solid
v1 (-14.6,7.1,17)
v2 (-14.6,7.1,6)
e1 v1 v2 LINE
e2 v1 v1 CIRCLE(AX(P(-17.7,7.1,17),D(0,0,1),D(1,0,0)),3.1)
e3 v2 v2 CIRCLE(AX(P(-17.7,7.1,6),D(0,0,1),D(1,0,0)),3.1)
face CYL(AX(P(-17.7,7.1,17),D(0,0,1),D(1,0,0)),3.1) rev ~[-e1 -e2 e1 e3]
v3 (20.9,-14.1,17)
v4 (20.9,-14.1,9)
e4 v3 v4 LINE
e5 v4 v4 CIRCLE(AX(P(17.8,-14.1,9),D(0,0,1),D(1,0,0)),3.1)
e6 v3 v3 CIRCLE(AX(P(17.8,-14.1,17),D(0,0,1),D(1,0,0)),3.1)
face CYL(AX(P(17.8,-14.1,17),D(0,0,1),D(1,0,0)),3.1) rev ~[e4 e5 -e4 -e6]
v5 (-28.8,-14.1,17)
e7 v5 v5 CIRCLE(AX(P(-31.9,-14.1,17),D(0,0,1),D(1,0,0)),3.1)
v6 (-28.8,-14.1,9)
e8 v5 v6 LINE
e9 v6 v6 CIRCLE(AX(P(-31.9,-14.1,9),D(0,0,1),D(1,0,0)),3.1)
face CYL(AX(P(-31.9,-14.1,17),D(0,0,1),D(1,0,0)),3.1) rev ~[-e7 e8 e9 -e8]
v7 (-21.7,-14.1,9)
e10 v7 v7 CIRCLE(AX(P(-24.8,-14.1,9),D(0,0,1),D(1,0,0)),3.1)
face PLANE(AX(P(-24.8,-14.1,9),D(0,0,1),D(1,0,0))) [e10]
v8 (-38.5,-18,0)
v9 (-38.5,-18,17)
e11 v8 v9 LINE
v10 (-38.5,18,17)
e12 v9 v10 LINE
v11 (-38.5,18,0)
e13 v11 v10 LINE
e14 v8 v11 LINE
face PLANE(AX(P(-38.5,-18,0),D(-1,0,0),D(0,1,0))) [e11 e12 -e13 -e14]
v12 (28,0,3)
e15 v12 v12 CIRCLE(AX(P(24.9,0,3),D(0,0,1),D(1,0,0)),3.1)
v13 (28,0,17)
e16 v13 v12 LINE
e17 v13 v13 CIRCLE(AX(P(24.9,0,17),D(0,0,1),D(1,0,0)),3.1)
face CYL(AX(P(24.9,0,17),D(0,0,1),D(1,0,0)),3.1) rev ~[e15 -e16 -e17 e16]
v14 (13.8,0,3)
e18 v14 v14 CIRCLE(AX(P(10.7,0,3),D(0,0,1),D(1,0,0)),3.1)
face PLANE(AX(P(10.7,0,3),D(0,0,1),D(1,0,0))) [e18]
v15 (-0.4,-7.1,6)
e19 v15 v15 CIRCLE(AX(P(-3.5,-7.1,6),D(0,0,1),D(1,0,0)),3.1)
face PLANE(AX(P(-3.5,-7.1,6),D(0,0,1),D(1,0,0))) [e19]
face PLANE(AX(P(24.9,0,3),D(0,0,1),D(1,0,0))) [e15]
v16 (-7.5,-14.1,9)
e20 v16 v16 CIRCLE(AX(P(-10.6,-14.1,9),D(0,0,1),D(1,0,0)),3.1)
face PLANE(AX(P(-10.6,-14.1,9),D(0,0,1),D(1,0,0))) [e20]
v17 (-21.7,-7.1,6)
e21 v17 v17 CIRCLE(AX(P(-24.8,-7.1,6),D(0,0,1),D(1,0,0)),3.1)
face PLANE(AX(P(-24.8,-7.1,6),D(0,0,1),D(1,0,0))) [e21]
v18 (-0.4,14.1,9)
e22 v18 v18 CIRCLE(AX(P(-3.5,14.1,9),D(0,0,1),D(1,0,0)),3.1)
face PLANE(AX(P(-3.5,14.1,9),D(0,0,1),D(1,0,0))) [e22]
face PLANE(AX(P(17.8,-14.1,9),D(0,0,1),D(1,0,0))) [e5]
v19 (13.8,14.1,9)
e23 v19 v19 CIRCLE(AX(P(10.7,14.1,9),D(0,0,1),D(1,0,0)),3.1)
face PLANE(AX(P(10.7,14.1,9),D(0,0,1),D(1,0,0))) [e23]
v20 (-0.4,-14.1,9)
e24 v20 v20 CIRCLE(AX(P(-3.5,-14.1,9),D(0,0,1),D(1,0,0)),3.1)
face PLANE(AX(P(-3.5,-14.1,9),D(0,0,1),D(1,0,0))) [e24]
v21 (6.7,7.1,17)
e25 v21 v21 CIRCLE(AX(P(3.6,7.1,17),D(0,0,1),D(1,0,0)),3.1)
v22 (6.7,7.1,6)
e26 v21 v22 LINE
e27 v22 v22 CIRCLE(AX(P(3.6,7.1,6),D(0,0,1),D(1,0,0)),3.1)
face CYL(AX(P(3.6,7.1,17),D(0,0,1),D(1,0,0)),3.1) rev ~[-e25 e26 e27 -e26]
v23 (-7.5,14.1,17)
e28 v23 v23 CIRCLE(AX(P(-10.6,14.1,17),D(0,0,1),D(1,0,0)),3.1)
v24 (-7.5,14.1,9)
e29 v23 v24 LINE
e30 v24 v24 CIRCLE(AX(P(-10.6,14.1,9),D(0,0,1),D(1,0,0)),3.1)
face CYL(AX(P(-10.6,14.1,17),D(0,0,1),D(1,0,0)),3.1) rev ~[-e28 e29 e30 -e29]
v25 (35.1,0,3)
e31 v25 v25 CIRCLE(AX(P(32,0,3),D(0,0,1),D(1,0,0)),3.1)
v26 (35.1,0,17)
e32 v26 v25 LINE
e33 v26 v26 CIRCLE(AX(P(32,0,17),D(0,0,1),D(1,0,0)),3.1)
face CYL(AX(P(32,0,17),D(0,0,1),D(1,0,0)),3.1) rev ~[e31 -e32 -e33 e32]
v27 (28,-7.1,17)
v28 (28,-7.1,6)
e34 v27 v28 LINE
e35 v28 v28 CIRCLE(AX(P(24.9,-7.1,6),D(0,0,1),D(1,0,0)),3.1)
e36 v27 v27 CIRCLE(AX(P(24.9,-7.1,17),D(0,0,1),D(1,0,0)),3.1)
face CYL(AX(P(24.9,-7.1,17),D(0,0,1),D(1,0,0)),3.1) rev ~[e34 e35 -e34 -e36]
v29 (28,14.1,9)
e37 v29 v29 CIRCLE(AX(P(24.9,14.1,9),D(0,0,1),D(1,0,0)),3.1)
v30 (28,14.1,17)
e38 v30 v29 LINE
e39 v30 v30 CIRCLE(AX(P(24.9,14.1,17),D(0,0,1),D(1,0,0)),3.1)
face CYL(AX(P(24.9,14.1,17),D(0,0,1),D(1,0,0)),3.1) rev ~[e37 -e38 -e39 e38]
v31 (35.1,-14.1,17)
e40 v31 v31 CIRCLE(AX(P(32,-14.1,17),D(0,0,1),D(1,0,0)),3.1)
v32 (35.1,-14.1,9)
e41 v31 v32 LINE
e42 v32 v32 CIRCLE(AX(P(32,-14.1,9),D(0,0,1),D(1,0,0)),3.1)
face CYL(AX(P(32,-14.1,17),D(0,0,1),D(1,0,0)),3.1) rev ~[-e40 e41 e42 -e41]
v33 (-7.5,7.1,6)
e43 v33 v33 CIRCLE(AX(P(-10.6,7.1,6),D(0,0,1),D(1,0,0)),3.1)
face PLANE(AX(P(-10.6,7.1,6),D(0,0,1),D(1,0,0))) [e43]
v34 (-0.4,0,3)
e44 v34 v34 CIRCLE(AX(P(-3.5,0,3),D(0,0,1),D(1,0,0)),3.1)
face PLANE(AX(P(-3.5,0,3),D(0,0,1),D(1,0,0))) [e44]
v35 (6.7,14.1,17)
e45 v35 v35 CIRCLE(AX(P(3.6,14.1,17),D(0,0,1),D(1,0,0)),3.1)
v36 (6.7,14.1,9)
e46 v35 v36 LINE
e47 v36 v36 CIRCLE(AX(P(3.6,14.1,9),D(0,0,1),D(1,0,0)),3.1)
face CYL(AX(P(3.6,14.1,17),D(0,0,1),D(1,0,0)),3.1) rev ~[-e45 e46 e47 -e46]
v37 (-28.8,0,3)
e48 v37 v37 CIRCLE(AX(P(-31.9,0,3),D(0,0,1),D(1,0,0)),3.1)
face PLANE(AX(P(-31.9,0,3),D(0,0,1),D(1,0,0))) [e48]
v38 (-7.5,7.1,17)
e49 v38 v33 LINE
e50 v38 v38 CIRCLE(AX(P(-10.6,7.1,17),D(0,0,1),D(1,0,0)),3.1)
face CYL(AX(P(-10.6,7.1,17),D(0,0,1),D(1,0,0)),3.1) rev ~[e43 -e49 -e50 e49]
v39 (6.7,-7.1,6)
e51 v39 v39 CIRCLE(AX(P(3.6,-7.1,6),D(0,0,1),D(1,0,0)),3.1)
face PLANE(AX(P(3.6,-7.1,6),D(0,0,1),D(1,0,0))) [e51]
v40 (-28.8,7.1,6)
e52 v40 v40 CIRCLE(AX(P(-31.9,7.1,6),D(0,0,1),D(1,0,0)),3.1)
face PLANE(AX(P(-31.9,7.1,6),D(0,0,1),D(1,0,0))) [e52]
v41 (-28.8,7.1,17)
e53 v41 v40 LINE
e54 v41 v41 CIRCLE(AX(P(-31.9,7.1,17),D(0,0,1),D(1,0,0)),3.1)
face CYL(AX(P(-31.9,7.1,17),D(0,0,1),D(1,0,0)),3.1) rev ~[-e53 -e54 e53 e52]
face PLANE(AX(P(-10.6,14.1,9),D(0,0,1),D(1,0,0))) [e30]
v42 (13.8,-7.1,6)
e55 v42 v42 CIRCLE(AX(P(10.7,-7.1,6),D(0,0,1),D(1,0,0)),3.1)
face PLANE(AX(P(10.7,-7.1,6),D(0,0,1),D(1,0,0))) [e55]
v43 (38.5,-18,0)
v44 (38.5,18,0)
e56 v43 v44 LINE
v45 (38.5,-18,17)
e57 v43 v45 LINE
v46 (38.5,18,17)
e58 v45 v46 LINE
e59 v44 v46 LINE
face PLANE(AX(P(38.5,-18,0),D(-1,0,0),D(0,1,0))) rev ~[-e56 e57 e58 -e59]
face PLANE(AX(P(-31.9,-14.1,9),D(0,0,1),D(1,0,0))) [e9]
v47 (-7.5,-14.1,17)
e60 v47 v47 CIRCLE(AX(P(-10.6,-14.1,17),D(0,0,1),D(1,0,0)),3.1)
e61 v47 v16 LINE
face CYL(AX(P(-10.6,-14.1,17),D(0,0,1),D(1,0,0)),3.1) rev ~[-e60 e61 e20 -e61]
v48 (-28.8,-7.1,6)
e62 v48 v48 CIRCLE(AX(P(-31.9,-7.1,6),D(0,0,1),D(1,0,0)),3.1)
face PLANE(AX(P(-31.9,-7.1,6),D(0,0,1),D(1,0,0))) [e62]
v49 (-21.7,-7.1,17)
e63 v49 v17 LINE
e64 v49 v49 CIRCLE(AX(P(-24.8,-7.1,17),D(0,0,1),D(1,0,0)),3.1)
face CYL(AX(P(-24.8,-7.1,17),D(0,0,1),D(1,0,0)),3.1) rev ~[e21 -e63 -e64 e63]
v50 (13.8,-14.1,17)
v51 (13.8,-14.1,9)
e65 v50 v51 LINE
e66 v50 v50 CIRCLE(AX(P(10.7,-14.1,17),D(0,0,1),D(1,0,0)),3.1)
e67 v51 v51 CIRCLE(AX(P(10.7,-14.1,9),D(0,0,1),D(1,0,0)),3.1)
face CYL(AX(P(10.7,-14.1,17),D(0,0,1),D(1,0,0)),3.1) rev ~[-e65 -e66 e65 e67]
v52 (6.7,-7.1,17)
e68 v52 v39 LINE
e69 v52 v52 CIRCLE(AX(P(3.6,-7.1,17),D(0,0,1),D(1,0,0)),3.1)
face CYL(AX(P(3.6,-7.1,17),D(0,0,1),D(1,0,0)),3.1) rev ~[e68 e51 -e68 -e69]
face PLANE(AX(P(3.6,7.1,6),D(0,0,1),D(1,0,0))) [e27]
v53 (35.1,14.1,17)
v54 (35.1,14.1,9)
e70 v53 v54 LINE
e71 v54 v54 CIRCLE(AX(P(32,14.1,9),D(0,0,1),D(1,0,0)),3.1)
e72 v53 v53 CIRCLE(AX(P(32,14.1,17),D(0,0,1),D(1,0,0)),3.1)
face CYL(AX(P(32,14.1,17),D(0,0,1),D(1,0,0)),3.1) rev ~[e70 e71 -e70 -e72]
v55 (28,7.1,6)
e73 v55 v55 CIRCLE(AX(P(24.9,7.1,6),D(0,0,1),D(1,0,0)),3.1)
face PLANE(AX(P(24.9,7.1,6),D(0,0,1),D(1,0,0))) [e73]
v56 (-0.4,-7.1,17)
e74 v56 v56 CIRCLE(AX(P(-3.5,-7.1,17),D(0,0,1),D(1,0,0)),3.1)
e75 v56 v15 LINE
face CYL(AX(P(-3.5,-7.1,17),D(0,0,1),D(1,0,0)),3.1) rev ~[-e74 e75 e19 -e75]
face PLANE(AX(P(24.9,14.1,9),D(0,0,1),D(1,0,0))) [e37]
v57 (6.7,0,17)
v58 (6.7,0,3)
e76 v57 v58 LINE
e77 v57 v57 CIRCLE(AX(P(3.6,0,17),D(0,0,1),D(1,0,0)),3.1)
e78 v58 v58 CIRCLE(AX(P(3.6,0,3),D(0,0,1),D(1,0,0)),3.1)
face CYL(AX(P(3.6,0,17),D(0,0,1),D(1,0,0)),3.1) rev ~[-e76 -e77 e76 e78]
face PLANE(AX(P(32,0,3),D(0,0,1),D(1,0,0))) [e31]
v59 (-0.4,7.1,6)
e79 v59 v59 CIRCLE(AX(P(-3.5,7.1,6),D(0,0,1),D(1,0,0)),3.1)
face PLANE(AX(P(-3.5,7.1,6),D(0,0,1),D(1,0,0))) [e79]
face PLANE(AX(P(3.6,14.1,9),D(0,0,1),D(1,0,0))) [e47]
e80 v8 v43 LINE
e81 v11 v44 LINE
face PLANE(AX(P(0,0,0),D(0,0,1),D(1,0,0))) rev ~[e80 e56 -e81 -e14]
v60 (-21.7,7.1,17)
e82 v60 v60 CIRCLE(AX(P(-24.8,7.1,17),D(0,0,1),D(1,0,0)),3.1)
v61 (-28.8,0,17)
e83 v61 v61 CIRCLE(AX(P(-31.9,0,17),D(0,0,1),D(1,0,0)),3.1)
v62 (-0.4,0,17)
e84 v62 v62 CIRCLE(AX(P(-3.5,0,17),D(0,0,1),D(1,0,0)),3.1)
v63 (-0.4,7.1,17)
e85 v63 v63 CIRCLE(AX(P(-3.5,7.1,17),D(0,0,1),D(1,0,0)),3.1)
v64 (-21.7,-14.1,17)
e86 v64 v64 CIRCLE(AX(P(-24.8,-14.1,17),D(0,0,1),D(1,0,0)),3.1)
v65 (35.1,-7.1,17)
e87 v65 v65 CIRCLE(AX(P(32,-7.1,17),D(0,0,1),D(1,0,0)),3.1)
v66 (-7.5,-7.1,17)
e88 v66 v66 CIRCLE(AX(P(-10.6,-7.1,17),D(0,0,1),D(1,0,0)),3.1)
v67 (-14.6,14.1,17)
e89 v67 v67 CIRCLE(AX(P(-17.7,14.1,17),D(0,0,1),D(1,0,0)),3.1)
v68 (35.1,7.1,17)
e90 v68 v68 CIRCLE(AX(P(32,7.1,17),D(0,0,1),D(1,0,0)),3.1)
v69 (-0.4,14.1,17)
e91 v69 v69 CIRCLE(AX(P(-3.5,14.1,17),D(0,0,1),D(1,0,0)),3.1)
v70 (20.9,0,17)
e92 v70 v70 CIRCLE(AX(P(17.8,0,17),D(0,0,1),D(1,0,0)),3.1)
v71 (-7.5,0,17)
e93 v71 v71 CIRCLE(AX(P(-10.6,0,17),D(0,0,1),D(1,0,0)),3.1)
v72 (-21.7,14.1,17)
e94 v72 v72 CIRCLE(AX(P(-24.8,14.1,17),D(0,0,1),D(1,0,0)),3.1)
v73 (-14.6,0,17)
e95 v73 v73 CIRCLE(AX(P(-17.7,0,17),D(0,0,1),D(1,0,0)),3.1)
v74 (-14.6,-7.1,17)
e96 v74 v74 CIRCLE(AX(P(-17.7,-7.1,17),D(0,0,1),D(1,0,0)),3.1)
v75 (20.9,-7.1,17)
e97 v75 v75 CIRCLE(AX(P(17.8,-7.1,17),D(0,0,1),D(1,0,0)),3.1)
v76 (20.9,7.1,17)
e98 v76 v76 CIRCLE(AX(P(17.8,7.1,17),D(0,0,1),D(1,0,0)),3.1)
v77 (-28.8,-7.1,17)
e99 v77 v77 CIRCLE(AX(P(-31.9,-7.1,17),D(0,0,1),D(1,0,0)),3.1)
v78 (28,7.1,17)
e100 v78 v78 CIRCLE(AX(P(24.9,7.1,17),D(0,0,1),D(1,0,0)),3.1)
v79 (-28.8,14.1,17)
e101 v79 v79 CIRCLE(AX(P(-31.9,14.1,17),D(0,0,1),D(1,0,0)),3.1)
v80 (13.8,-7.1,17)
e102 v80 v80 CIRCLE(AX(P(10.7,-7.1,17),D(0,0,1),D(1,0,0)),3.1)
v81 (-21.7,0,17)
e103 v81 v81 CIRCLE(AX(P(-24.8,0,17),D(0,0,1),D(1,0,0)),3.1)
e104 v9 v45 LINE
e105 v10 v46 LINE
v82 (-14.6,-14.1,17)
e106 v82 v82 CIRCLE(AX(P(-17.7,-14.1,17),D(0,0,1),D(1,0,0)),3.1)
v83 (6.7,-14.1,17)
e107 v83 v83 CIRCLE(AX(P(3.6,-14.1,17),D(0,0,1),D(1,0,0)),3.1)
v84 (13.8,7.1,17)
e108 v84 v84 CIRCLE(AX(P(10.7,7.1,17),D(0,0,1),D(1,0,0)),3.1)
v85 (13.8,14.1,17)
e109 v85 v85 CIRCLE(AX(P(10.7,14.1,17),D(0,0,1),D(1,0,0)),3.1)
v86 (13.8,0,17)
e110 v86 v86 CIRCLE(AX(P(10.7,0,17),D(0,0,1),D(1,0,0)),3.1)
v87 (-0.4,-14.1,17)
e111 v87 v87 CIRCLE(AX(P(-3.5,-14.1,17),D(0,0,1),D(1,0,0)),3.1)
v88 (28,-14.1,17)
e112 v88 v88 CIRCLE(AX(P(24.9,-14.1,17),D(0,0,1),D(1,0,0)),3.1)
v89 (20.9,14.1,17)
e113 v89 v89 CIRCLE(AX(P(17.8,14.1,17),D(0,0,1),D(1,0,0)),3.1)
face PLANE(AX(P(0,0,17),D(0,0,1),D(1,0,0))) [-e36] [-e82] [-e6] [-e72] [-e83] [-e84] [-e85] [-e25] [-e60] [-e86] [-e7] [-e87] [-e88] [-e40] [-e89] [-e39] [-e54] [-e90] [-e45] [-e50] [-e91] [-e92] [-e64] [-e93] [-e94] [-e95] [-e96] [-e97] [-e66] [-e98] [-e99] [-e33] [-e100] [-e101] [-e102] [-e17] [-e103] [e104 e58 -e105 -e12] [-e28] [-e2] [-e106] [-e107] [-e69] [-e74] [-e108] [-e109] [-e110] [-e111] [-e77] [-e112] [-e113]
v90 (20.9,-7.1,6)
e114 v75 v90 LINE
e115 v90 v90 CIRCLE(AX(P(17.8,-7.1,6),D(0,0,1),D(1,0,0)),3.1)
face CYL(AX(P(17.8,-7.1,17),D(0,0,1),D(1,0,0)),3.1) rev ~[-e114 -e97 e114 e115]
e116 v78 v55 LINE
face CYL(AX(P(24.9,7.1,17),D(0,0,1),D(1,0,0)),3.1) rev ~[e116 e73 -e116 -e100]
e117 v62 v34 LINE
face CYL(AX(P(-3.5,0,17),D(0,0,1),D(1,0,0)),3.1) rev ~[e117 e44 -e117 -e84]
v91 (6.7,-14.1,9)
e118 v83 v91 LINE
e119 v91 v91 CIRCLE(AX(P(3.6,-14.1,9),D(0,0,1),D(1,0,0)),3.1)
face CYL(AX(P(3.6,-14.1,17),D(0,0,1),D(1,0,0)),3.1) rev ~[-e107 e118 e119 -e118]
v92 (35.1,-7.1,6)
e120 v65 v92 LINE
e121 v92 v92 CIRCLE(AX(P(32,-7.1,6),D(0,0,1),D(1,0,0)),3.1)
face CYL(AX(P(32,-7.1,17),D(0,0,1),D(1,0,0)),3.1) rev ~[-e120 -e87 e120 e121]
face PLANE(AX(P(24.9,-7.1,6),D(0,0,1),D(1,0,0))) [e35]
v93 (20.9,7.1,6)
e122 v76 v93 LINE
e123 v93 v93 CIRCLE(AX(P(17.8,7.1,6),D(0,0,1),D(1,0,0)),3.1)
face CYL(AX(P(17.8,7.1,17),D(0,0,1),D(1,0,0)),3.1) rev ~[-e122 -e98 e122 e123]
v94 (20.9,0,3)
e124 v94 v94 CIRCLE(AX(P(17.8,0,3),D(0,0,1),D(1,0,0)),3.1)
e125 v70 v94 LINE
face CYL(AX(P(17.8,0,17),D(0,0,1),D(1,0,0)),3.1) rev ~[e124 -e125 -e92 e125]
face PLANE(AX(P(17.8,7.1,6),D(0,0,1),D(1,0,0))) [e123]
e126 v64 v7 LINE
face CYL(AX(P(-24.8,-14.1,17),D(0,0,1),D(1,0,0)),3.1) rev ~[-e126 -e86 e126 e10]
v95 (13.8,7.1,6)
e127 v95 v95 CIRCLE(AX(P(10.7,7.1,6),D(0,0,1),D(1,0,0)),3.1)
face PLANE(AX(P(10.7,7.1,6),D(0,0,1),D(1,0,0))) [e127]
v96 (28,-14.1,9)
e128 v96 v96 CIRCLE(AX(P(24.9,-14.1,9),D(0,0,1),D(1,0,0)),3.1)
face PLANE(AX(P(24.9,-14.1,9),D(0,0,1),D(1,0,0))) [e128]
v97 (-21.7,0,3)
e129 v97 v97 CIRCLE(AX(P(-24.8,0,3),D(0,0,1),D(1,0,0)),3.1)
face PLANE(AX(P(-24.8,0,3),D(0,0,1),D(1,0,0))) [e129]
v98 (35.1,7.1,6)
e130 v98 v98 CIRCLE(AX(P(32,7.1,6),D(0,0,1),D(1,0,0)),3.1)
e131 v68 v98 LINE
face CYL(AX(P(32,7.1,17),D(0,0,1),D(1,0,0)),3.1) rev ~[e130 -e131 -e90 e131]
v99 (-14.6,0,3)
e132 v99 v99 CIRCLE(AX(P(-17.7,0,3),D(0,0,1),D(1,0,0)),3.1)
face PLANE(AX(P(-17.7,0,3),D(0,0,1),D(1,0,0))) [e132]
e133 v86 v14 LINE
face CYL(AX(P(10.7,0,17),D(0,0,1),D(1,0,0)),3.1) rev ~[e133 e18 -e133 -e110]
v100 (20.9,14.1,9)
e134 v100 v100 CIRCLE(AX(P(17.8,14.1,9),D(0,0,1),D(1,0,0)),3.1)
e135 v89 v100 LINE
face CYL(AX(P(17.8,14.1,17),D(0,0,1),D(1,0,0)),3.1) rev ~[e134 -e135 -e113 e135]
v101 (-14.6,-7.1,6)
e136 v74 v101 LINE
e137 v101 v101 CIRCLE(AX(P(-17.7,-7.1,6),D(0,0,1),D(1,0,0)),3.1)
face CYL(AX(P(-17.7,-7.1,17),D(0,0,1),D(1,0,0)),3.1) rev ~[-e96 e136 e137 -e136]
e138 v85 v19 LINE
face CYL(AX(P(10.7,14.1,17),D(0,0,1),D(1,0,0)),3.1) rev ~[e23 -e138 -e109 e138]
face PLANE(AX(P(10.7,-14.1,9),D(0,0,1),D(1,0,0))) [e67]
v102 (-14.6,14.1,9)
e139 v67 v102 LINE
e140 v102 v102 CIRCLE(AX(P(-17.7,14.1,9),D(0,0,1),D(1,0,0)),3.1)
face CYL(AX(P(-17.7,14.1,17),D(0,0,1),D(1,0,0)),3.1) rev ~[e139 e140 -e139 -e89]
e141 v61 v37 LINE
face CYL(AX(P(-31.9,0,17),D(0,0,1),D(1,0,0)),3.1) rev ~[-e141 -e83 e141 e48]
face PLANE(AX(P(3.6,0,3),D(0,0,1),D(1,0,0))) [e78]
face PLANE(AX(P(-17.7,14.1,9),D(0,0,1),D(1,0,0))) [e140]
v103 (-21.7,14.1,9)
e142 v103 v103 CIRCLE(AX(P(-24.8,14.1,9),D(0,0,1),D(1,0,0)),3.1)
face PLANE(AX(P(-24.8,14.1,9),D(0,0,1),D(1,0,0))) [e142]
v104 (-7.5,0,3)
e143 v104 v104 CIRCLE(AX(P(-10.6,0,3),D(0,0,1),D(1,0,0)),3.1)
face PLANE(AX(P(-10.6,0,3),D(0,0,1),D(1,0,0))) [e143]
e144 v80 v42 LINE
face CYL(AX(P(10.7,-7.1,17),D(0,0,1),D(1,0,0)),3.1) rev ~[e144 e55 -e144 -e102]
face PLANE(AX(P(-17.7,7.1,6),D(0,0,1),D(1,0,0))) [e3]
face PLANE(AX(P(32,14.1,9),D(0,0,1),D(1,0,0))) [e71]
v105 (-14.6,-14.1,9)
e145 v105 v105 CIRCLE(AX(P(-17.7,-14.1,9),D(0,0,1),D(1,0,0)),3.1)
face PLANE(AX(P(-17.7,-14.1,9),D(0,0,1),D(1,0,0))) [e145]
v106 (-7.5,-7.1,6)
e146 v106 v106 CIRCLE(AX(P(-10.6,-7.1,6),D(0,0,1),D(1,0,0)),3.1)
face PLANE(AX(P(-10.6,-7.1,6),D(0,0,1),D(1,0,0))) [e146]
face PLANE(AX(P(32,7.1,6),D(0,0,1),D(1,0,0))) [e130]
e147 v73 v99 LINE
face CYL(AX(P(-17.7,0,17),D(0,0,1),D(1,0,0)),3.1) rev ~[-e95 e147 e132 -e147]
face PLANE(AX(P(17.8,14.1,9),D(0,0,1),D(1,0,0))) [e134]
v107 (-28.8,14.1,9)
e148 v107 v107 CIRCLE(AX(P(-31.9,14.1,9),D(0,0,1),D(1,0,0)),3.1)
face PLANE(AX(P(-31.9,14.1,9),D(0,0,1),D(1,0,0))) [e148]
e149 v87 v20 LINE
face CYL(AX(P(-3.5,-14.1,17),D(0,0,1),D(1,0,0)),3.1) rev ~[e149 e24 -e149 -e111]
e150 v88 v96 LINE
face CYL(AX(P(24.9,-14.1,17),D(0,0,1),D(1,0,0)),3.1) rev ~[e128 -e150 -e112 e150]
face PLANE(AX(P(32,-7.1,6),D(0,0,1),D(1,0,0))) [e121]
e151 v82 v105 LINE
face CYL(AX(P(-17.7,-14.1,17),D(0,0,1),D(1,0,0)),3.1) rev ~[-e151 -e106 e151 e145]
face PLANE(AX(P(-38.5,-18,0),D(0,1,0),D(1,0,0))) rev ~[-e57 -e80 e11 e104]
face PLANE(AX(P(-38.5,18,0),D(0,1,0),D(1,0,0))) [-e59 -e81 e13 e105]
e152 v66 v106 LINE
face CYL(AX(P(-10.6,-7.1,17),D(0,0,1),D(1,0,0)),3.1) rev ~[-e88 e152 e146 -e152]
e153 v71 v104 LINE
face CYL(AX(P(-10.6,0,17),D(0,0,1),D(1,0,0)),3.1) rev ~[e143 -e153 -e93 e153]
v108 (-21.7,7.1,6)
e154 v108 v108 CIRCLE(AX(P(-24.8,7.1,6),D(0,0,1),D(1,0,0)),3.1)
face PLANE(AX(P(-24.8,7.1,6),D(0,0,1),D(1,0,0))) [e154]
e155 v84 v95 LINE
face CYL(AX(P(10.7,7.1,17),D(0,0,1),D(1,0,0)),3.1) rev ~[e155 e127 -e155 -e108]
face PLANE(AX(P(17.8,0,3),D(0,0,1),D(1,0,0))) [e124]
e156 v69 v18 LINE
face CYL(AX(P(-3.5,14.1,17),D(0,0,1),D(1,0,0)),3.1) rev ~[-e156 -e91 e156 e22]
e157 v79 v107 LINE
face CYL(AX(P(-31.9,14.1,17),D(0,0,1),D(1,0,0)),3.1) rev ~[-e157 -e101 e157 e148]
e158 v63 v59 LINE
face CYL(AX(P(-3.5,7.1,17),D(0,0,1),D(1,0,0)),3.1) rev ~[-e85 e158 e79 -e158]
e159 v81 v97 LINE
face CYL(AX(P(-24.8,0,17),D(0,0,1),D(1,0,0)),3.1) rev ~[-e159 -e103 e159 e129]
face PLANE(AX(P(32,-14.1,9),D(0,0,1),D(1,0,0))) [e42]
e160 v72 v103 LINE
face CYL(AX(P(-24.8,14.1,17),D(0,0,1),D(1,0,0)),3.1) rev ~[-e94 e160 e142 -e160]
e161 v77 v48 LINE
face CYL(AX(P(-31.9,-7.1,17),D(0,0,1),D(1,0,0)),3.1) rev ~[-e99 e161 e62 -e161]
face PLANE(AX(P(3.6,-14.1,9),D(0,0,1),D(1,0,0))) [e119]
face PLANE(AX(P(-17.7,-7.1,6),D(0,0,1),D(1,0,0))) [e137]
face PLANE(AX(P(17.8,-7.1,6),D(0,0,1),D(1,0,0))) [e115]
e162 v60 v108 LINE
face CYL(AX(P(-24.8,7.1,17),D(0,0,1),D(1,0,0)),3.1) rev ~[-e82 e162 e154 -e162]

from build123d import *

# Parameters (mm, degrees)
F0_W     = 77
F0_H     = 36
F1_DEPTH = 17
F2_R     = 3.1
F3_DEPTH = 8
F4_R     = 3.1
F5_DEPTH = 11
F6_R     = 3.1
F7_DEPTH = 14


with BuildPart() as f1:
    # F0 (on Top) → F1 (new body)
    with BuildSketch(Plane.XY):
        Rectangle(F0_W, F0_H)
    extrude(amount=F1_DEPTH)

    # F2 (on face) → F3 (cut)
    with BuildSketch(Plane.XY.offset(17)):
        with Locations((-31.9, 14.1)):
            Circle(F2_R)
        with Locations((-24.8, 14.1)):
            Circle(F2_R)
        with Locations((-17.7, 14.1)):
            Circle(F2_R)
        with Locations((-10.6, 14.1)):
            Circle(F2_R)
        with Locations((-3.5, 14.1)):
            Circle(F2_R)
        with Locations((3.6, 14.1)):
            Circle(F2_R)
        with Locations((10.7, 14.1)):
            Circle(F2_R)
        with Locations((17.8, 14.1)):
            Circle(F2_R)
        with Locations((24.9, 14.1)):
            Circle(F2_R)
        with Locations((32, 14.1)):
            Circle(F2_R)
        with Locations((-31.9, -14.1)):
            Circle(F2_R)
        with Locations((-24.8, -14.1)):
            Circle(F2_R)
        with Locations((-17.7, -14.1)):
            Circle(F2_R)
        with Locations((-10.6, -14.1)):
            Circle(F2_R)
        with Locations((-3.5, -14.1)):
            Circle(F2_R)
        with Locations((3.6, -14.1)):
            Circle(F2_R)
        with Locations((10.7, -14.1)):
            Circle(F2_R)
        with Locations((17.8, -14.1)):
            Circle(F2_R)
        with Locations((24.9, -14.1)):
            Circle(F2_R)
        with Locations((32, -14.1)):
            Circle(F2_R)
    extrude(amount=-F3_DEPTH, mode=Mode.SUBTRACT)

    # F4 (on face) → F5 (cut)
    with BuildSketch(Plane.XY.offset(17)):
        with Locations((-31.9, 7.1)):
            Circle(F4_R)
        with Locations((-24.8, 7.1)):
            Circle(F4_R)
        with Locations((-17.7, 7.1)):
            Circle(F4_R)
        with Locations((-10.6, 7.1)):
            Circle(F4_R)
        with Locations((-3.5, 7.1)):
            Circle(F4_R)
        with Locations((3.6, 7.1)):
            Circle(F4_R)
        with Locations((10.7, 7.1)):
            Circle(F4_R)
        with Locations((17.8, 7.1)):
            Circle(F4_R)
        with Locations((24.9, 7.1)):
            Circle(F4_R)
        with Locations((32, 7.1)):
            Circle(F4_R)
        with Locations((-31.9, -7.1)):
            Circle(F4_R)
        with Locations((-24.8, -7.1)):
            Circle(F4_R)
        with Locations((-17.7, -7.1)):
            Circle(F4_R)
        with Locations((-10.6, -7.1)):
            Circle(F4_R)
        with Locations((-3.5, -7.1)):
            Circle(F4_R)
        with Locations((3.6, -7.1)):
            Circle(F4_R)
        with Locations((10.7, -7.1)):
            Circle(F4_R)
        with Locations((17.8, -7.1)):
            Circle(F4_R)
        with Locations((24.9, -7.1)):
            Circle(F4_R)
        with Locations((32, -7.1)):
            Circle(F4_R)
    extrude(amount=-F5_DEPTH, mode=Mode.SUBTRACT)

    # F6 (on face) → F7 (cut)
    with BuildSketch(Plane.XY.offset(17)):
        with Locations((-31.9, 0)):
            Circle(F6_R)
        with Locations((-24.8, 0)):
            Circle(F6_R)
        with Locations((-17.7, 0)):
            Circle(F6_R)
        with Locations((-10.6, 0)):
            Circle(F6_R)
        with Locations((-3.5, 0)):
            Circle(F6_R)
        with Locations((3.6, 0)):
            Circle(F6_R)
        with Locations((10.7, 0)):
            Circle(F6_R)
        with Locations((17.8, 0)):
            Circle(F6_R)
        with Locations((24.9, 0)):
            Circle(F6_R)
        with Locations((32, 0)):
            Circle(F6_R)
    extrude(amount=-F7_DEPTH, mode=Mode.SUBTRACT)


solid = f1.part
